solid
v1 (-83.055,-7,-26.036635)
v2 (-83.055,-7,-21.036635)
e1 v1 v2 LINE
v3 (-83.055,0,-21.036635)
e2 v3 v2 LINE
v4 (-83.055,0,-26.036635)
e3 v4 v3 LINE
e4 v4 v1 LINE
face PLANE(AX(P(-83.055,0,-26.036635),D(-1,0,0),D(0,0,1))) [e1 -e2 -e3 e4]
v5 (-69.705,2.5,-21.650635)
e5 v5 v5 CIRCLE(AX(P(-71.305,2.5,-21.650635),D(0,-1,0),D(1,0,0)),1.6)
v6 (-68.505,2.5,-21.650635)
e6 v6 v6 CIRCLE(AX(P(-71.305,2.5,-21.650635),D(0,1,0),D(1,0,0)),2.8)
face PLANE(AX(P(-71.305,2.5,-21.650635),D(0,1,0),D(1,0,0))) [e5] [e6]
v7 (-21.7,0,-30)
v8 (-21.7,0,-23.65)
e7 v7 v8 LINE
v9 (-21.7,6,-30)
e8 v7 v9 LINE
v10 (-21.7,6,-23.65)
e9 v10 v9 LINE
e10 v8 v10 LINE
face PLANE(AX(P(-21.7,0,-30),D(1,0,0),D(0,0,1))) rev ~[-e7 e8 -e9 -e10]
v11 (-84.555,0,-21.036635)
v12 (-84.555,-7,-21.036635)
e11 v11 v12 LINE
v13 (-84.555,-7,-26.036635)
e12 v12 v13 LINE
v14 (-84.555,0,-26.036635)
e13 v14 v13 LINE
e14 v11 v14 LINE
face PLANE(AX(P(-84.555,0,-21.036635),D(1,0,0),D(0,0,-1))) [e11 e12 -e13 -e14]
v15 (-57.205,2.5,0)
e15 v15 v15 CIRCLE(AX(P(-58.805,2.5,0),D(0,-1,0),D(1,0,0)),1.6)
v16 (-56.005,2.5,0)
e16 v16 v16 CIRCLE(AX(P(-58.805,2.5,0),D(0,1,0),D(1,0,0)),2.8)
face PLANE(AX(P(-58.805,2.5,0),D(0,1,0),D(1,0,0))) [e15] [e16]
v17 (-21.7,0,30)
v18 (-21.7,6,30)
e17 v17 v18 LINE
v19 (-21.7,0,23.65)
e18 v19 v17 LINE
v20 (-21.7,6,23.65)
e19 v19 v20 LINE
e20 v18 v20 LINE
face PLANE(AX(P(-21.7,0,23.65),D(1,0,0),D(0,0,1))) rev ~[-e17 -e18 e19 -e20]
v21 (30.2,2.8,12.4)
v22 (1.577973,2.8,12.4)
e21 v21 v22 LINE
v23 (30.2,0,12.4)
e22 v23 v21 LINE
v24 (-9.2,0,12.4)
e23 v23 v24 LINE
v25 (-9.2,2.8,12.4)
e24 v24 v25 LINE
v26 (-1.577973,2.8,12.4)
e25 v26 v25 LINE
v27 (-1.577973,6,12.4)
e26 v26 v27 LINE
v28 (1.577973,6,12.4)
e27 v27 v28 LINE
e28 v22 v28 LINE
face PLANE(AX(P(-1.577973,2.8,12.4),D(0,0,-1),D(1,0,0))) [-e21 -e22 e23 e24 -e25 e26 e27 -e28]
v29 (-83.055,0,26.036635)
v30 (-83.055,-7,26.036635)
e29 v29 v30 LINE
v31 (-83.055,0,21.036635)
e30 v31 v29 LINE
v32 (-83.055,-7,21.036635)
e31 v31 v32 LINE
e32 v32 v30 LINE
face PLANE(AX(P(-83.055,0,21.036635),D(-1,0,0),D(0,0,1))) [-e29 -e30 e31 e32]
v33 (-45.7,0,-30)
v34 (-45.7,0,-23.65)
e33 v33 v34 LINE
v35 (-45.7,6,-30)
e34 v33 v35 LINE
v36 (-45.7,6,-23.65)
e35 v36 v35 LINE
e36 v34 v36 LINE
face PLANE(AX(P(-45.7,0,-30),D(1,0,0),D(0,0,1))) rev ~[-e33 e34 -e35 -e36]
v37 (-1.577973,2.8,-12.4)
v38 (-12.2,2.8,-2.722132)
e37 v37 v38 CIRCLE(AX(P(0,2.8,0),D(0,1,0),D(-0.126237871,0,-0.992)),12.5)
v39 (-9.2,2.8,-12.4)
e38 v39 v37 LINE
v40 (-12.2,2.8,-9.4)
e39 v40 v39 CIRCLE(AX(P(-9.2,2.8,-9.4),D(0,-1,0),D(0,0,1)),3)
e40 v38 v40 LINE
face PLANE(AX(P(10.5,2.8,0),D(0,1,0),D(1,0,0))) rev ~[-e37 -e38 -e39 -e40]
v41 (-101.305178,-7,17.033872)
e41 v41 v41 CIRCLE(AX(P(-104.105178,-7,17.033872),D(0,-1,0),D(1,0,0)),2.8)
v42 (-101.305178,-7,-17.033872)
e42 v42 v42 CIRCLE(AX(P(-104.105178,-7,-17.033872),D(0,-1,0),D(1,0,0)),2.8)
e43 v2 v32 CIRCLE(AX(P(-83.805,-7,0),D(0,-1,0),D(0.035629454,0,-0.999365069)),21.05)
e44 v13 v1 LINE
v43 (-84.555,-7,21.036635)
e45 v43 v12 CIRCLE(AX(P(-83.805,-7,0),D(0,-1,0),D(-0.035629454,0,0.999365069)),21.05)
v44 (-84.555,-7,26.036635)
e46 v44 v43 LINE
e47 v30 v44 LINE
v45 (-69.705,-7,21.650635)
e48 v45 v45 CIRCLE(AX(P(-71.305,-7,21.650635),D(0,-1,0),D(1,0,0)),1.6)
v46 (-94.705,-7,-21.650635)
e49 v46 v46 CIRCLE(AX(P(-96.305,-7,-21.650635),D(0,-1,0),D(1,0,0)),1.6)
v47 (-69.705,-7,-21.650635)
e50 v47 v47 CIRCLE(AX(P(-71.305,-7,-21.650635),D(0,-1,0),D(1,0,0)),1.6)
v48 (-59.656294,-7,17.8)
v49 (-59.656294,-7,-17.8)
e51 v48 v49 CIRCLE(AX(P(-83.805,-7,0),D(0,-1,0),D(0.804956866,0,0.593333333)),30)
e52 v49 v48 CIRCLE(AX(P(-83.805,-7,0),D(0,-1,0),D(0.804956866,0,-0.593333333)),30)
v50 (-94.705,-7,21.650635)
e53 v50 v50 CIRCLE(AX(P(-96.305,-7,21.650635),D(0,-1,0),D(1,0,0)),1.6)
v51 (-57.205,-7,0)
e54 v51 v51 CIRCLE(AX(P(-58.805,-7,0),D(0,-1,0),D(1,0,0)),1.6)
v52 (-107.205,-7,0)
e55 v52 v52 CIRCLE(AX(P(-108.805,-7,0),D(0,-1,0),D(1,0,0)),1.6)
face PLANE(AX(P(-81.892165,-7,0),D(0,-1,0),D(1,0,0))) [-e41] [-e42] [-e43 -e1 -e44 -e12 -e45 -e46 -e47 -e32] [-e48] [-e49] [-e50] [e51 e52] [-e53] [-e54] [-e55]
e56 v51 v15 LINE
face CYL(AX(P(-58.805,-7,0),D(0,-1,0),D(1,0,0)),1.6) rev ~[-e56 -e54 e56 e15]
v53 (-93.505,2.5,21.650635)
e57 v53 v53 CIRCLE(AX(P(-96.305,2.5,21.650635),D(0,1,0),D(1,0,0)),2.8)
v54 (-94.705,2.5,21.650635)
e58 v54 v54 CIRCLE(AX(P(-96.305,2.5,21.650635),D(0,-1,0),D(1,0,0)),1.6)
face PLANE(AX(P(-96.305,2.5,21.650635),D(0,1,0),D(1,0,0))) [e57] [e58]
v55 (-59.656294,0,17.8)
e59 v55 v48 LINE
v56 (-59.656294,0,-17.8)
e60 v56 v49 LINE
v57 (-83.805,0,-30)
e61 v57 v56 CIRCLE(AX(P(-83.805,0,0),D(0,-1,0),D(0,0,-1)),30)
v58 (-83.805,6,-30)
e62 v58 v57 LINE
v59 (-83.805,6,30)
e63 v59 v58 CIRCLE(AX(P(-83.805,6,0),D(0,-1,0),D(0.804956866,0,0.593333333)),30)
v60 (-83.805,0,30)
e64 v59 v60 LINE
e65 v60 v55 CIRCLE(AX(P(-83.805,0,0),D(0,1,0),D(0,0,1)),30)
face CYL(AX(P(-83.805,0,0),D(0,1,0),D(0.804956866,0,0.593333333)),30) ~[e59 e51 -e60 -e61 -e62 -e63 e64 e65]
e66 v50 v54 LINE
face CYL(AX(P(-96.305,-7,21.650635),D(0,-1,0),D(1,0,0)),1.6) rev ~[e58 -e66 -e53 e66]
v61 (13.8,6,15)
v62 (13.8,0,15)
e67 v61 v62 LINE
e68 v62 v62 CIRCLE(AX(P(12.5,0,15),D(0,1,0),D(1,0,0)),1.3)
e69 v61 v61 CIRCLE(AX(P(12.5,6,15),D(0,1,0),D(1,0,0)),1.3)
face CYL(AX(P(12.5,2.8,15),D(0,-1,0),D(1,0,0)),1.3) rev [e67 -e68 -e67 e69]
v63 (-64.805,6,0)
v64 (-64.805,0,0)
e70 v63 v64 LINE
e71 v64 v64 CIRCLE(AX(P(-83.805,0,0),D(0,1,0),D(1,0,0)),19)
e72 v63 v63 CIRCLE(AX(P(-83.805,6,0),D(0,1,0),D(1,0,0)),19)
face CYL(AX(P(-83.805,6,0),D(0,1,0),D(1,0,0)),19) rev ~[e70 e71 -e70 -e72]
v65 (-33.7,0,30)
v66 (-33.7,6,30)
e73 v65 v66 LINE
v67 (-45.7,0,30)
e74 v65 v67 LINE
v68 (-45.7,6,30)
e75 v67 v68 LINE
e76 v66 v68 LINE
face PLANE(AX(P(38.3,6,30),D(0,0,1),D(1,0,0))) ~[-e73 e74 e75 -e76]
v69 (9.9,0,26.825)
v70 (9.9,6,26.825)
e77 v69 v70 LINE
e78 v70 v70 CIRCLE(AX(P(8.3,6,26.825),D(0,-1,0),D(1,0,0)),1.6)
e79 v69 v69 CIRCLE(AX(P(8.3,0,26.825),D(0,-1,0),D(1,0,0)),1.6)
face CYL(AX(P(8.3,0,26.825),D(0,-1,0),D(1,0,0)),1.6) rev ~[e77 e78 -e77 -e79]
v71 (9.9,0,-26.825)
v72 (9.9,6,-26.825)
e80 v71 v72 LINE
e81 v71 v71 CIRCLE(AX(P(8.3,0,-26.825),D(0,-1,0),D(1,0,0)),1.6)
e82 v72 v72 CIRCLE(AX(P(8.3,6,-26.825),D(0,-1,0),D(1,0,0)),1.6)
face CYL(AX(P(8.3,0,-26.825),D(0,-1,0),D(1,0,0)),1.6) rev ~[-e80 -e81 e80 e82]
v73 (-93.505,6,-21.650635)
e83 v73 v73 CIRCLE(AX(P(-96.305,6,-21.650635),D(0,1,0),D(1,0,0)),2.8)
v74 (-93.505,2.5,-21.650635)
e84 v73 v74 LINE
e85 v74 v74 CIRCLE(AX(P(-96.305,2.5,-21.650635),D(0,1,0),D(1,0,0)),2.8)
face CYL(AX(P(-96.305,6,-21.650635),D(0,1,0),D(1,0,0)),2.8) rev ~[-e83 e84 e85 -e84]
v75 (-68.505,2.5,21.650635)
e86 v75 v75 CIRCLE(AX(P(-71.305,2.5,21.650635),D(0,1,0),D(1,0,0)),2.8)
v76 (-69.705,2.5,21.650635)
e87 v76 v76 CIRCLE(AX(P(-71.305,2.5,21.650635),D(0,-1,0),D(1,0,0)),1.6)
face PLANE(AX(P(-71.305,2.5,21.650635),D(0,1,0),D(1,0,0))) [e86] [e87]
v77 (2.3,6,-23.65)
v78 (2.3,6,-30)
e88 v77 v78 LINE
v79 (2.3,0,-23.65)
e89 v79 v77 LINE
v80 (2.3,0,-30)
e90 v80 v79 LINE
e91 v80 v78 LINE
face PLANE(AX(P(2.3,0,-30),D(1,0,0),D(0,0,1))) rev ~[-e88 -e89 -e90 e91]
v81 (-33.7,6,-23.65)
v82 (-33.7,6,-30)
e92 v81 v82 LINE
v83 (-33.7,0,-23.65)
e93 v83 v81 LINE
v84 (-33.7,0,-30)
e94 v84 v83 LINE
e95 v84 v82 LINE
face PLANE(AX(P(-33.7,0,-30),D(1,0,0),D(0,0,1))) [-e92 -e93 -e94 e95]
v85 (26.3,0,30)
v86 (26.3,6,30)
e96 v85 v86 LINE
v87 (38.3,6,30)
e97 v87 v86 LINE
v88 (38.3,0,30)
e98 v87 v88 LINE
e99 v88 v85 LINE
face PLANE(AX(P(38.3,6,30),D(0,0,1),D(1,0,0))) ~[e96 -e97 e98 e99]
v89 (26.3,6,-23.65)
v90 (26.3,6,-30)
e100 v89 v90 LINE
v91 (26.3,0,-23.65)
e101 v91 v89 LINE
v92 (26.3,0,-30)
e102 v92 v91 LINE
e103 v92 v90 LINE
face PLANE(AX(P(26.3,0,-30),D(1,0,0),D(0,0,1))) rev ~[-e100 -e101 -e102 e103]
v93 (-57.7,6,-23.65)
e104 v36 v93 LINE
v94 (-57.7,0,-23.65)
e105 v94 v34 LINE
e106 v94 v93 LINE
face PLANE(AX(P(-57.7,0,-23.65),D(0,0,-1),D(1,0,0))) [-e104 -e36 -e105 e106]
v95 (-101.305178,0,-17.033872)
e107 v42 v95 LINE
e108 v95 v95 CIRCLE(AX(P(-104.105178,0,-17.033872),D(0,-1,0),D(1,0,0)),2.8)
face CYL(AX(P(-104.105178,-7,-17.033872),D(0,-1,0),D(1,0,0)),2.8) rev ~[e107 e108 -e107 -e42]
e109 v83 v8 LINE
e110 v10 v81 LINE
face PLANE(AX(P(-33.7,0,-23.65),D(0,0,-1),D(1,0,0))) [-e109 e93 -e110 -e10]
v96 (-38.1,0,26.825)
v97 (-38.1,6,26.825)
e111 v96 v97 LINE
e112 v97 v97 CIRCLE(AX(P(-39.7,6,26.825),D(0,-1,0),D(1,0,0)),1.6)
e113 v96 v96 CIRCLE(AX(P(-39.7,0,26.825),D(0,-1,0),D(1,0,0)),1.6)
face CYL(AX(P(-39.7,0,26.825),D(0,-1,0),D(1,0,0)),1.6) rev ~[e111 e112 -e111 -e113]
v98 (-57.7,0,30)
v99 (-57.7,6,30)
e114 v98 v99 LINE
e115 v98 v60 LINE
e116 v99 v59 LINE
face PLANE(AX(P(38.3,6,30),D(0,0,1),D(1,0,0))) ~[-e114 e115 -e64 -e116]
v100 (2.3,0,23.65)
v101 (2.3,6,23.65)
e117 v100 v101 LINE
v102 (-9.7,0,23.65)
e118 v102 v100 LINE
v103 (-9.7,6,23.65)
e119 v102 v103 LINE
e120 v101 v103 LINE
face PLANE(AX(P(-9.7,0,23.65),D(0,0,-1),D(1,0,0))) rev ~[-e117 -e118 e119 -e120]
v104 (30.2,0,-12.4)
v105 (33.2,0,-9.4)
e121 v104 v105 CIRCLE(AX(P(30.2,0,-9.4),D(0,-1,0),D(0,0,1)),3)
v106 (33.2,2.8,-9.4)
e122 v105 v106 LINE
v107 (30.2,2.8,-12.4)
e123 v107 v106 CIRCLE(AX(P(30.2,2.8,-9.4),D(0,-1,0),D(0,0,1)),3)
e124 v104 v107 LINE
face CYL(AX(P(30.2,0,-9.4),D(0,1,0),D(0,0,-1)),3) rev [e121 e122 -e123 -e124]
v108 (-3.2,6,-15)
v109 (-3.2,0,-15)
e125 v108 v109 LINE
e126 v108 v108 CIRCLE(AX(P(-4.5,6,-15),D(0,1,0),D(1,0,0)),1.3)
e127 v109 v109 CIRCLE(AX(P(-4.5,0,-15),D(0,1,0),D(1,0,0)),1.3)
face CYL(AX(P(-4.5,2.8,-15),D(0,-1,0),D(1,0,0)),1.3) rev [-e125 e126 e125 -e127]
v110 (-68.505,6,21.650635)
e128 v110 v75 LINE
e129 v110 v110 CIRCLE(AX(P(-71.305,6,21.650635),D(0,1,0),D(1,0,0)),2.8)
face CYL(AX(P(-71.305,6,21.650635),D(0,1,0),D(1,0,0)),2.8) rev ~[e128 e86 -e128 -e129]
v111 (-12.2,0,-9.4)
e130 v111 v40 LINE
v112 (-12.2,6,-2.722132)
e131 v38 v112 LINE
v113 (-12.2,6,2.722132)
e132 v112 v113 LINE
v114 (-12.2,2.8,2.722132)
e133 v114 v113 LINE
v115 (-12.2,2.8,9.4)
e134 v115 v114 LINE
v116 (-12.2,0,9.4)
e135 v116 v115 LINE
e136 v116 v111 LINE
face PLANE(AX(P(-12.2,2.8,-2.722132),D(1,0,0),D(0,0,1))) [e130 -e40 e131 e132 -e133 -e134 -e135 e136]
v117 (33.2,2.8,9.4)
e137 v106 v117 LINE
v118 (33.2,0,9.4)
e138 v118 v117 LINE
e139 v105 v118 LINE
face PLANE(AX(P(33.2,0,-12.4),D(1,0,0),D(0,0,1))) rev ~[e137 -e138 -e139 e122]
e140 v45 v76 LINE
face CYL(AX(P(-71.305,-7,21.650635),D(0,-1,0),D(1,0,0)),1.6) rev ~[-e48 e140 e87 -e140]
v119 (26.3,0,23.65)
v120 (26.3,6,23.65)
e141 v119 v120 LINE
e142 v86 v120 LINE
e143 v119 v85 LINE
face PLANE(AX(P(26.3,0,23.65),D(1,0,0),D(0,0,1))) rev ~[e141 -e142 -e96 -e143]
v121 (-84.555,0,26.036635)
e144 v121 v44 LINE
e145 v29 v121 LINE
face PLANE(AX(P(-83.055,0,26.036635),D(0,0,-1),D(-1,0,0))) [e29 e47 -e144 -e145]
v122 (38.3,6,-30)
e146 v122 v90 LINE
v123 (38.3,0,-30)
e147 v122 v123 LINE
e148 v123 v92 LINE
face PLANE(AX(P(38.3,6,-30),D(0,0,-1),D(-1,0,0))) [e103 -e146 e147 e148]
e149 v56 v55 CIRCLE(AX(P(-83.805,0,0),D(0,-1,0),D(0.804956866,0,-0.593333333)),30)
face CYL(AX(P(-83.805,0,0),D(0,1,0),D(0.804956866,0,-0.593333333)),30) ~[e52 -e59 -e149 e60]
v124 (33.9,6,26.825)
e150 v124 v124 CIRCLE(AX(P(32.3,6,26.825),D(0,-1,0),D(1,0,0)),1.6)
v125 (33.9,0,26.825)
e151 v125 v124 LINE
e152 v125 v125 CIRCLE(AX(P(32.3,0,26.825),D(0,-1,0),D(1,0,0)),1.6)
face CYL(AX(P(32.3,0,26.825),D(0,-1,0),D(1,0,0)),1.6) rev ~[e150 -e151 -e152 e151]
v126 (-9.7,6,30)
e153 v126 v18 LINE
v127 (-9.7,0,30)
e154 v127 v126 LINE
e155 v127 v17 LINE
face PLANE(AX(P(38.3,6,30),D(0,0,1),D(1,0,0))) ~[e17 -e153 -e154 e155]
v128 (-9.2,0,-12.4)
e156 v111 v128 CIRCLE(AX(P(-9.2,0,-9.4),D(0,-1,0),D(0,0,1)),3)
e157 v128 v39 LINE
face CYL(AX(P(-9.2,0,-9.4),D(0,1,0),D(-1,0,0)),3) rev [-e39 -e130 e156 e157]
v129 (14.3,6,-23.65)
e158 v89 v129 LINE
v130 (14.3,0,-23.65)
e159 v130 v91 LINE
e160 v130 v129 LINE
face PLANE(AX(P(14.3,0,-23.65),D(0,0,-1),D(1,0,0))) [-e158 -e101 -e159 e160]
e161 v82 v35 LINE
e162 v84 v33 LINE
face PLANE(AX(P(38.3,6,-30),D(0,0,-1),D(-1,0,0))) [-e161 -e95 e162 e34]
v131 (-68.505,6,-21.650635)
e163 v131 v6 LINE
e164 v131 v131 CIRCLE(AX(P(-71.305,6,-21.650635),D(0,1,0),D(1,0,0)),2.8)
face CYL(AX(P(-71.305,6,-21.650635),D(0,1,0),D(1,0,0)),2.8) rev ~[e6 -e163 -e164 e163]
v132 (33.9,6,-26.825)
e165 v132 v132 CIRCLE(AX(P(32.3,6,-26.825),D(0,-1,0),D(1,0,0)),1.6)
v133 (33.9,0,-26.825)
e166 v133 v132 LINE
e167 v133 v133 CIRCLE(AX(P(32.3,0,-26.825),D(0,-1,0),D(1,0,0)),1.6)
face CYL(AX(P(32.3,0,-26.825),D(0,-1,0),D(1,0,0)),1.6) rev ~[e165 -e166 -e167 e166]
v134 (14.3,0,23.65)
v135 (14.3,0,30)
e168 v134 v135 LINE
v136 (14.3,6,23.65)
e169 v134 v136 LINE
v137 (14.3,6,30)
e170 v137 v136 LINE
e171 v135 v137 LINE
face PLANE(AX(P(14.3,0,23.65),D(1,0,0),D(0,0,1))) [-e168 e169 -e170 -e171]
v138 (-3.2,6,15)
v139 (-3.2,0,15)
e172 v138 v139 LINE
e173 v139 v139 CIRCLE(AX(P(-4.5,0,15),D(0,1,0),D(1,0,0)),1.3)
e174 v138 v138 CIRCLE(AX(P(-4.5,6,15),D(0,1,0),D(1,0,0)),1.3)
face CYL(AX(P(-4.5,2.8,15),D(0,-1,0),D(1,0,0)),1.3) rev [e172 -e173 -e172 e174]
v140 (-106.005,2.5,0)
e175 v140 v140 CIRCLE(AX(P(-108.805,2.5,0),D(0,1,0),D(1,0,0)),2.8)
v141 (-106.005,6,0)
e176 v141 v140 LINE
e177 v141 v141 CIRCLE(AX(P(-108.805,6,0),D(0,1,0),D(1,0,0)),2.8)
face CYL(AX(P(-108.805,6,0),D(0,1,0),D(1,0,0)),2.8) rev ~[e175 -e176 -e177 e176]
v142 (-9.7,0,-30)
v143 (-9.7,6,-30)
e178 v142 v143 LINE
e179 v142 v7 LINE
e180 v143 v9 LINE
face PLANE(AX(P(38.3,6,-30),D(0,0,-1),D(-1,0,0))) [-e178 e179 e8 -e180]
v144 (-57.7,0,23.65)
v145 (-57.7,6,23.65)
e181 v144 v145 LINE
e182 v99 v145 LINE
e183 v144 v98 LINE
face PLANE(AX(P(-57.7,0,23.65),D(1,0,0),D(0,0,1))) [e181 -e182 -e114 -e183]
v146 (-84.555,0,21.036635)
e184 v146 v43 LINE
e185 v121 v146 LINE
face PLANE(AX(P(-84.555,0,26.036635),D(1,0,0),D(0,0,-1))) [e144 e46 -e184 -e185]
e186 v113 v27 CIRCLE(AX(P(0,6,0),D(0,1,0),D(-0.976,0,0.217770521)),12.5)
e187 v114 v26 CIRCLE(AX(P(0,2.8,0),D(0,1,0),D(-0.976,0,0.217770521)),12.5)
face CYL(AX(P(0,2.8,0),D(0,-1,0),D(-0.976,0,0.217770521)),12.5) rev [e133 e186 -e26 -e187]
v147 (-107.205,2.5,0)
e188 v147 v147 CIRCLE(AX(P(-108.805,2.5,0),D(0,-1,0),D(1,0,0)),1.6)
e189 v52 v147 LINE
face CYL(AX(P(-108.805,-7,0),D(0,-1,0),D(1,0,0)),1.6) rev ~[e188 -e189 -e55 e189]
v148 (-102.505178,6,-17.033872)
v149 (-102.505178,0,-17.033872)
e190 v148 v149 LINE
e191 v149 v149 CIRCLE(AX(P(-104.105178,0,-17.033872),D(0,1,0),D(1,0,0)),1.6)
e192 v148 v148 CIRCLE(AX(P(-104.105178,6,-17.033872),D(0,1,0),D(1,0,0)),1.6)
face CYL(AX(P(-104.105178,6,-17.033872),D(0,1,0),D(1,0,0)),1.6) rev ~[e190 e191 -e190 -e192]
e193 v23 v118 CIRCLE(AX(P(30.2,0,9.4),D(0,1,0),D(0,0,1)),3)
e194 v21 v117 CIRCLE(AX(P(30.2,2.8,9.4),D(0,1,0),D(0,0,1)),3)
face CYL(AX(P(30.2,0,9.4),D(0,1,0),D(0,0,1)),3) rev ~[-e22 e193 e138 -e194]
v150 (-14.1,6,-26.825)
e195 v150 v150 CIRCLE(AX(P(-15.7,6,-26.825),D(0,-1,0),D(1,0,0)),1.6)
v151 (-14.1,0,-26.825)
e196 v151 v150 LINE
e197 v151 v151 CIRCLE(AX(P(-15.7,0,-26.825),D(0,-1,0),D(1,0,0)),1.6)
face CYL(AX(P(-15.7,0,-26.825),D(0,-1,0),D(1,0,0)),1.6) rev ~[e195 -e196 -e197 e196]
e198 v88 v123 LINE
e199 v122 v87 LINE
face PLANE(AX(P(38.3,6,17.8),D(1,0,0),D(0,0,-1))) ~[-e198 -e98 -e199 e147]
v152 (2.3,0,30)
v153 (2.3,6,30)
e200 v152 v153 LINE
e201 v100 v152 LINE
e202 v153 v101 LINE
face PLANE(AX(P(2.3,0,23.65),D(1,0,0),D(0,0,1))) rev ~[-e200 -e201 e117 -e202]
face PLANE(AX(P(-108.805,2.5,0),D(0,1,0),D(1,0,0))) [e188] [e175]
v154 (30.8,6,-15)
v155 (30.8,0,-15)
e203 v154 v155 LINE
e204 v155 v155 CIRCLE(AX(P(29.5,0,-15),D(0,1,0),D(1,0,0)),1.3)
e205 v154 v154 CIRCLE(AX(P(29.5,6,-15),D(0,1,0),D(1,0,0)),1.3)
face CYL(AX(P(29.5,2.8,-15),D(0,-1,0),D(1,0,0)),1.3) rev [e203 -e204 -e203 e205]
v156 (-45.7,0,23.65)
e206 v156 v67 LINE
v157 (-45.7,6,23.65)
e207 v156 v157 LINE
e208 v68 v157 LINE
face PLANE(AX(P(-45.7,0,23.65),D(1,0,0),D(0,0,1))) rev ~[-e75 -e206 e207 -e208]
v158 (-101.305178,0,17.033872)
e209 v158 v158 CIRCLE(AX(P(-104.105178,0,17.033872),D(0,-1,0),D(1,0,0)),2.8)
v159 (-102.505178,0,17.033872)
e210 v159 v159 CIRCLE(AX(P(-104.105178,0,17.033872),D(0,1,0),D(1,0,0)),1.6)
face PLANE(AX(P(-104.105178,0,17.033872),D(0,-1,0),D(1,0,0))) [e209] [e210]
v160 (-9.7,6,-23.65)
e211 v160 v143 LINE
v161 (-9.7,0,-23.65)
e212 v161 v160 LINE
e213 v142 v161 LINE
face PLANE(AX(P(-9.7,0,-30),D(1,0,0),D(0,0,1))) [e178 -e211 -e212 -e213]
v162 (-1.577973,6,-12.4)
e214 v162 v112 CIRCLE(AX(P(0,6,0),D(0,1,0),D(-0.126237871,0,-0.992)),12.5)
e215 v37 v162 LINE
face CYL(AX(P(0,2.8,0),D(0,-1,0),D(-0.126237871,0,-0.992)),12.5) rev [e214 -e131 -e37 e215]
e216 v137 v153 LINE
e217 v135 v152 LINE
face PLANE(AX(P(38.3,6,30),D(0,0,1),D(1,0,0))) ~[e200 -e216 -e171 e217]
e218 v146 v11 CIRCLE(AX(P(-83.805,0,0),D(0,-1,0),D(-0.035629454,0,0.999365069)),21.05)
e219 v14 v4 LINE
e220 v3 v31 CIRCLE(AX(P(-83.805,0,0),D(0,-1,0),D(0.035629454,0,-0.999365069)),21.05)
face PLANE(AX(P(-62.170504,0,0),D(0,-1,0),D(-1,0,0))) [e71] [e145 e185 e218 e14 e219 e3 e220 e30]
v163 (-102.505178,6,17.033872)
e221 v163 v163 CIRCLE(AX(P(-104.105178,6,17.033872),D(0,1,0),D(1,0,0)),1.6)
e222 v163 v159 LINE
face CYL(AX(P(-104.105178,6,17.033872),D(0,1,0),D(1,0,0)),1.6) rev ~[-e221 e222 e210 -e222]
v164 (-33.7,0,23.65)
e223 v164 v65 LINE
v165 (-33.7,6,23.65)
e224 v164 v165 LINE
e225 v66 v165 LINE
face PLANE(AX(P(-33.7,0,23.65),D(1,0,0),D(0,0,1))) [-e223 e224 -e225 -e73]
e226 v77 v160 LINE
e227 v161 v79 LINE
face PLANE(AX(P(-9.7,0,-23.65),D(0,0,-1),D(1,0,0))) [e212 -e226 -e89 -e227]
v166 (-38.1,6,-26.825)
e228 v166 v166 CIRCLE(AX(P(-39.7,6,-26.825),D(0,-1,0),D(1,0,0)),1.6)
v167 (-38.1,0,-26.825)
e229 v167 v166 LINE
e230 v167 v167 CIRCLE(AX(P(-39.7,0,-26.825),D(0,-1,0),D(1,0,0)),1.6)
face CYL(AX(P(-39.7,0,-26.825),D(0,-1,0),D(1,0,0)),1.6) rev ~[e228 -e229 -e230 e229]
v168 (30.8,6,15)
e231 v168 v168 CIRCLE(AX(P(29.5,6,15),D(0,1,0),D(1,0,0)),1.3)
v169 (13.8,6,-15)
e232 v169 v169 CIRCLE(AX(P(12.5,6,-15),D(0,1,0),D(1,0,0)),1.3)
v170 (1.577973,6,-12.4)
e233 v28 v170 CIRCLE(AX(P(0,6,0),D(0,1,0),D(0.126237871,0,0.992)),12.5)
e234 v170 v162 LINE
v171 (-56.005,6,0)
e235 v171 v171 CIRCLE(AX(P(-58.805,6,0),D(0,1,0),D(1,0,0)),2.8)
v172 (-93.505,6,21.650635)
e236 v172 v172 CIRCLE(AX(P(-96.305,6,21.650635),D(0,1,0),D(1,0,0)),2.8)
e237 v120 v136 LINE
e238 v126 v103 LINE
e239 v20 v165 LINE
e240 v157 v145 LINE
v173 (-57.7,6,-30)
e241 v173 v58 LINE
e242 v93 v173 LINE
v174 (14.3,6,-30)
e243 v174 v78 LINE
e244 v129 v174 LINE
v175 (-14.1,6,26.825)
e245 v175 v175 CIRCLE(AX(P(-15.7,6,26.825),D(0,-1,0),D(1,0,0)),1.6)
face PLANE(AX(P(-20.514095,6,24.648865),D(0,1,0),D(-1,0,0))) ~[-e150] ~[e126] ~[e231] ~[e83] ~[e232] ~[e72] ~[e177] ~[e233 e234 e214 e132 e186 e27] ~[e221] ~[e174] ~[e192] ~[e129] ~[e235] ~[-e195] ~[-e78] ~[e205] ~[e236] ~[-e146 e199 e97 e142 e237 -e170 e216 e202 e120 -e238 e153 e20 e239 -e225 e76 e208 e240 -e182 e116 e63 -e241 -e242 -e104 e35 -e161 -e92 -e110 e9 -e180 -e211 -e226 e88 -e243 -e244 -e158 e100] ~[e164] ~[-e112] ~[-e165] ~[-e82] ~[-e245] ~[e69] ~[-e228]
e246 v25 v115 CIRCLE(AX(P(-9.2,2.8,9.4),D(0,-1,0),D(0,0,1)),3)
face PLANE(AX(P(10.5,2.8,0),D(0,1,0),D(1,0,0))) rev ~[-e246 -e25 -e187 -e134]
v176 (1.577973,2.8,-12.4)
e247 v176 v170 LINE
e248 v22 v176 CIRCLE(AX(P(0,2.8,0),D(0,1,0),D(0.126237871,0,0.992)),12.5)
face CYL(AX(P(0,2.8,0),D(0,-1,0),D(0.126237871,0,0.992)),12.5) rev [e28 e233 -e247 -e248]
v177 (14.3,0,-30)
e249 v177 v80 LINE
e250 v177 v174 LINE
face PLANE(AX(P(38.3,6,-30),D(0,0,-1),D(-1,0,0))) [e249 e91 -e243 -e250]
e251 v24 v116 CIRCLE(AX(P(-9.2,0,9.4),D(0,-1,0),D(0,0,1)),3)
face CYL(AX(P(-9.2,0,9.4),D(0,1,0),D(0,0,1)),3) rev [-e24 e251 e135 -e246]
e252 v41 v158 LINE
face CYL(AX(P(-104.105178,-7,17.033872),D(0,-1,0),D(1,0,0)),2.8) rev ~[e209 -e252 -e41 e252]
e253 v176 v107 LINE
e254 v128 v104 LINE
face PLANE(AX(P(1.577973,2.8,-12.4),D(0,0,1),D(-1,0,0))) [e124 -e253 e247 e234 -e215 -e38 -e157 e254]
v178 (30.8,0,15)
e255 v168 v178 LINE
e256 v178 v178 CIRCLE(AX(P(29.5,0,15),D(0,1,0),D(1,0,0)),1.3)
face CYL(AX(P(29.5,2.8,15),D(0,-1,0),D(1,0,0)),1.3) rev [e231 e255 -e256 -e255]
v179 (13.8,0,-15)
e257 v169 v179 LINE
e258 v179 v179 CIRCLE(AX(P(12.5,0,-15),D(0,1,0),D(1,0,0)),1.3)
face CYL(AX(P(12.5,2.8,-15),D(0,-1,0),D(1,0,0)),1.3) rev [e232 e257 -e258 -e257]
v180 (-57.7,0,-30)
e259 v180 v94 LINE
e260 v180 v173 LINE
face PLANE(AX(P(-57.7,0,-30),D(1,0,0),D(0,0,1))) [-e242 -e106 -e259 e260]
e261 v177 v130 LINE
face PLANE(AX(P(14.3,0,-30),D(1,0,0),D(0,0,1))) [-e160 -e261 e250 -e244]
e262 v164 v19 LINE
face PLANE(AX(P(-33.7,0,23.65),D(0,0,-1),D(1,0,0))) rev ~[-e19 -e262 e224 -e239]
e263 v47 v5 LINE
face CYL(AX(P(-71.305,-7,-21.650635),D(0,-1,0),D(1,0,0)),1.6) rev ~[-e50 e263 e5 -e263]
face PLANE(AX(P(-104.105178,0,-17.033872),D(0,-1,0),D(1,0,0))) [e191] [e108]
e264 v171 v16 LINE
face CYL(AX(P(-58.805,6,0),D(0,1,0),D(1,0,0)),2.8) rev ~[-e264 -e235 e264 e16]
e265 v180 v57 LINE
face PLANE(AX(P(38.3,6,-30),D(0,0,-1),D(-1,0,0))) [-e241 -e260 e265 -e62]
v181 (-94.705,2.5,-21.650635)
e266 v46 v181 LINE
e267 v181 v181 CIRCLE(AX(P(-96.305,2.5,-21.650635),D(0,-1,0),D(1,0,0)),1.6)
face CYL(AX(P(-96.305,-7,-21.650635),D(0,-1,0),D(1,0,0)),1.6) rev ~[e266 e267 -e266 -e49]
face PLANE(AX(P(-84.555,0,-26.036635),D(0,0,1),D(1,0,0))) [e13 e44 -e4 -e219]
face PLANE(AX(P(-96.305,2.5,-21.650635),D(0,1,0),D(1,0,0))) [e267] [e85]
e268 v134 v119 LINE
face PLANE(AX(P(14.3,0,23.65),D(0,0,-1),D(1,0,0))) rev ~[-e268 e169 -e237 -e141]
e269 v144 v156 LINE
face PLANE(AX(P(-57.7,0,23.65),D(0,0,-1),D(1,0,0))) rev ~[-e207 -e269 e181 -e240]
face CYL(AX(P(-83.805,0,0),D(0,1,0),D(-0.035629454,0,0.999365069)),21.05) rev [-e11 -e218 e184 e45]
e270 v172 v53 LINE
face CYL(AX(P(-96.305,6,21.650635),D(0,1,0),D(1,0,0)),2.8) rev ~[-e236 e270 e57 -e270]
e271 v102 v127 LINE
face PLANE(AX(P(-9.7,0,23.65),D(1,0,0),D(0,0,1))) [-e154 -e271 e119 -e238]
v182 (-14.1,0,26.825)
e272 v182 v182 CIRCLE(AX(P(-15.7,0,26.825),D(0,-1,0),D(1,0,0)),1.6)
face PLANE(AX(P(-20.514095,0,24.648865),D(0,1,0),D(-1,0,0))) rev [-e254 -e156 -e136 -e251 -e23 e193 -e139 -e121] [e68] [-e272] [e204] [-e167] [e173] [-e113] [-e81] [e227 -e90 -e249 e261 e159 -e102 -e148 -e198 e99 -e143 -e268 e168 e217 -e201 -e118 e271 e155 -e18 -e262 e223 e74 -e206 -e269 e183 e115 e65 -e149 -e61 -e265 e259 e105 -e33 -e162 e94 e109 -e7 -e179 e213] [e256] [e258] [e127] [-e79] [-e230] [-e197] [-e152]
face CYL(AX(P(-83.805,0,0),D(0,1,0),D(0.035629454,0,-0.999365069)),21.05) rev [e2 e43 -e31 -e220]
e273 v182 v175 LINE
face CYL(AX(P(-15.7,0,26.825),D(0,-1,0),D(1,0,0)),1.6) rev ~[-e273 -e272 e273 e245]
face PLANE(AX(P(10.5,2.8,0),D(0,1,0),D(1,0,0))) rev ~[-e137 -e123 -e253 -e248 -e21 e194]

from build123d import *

# Parameters (mm, degrees)
SKETCH1_R           = 1.3
BOSS_EXTRUDE1_DEPTH = 2.8
SKETCH2_W           = 55.6
SKETCH2_H           = 35.6
SKETCH2_R           = 1.3
BOSS_EXTRUDE2_DEPTH = 3.2
FILLET1_R           = 3
SKETCH4_R           = 19
BOSS_EXTRUDE3_DEPTH = 6
BOSS_EXTRUDE4_DEPTH = 7
SKETCH6_R           = 1.6
CUT_EXTRUDE2_DEPTH  = 14
SKETCH8_R           = 2.8
CUT_EXTRUDE3_DEPTH  = 3.5
BOSS_EXTRUDE5_DEPTH = 6
CUT_EXTRUDE4_REACH  = 8
SKETCH10_W          = 12
SKETCH10_H          = 6.35
SKETCH11_R          = 1.6
CUT_EXTRUDE5_DEPTH  = 10
SKETCH13_R          = 1.6
CUT_EXTRUDE6_DEPTH  = 14
SKETCH14_R          = 2.8
CUT_EXTRUDE7_DEPTH  = 7


with BuildPart() as part:
    # Sketch1 → Boss-Extrude1 (new body)
    with BuildSketch(Plane(origin=(0, 0, 0), x_dir=(1, 0, 0), z_dir=(0, 1, 0))):
        Polygon((-4.5, 17.8), (38.3, 17.8), (38.3, -17.8), (-4.5, -17.8), (-12.2, -17.8), (-17.3, -17.8), (-17.3, 17.8), (-12.2, 17.8), align=None)
        with Locations((-4.5, 15)):
            Circle(SKETCH1_R, mode=Mode.SUBTRACT)
        with Locations((12.5, 15)):
            Circle(SKETCH1_R, mode=Mode.SUBTRACT)
        with Locations((29.5, 15)):
            Circle(SKETCH1_R, mode=Mode.SUBTRACT)
        with Locations((29.5, -15)):
            Circle(SKETCH1_R, mode=Mode.SUBTRACT)
        with Locations((12.5, -15)):
            Circle(SKETCH1_R, mode=Mode.SUBTRACT)
        with Locations((-4.5, -15)):
            Circle(SKETCH1_R, mode=Mode.SUBTRACT)
        Polygon((-4.5, 12.4), (33.2, 12.4), (33.2, -12.4), (-4.5, -12.4), (-12.2, -12.4), (-12.2, 12.4), align=None, mode=Mode.SUBTRACT)
    extrude(amount=BOSS_EXTRUDE1_DEPTH)

    # Sketch2 → Boss-Extrude2 (add)
    with BuildSketch(Plane(origin=(0, 2.8, 0), x_dir=(1, 0, 0), z_dir=(0, 1, 0))):
        with Locations((10.5, 0)):
            Rectangle(SKETCH2_W, SKETCH2_H)
        with Locations((-4.5, -15)):
            Circle(SKETCH2_R, mode=Mode.SUBTRACT)
        with Locations((12.5, -15)):
            Circle(SKETCH2_R, mode=Mode.SUBTRACT)
        with Locations((29.5, -15)):
            Circle(SKETCH2_R, mode=Mode.SUBTRACT)
        with Locations((29.5, 15)):
            Circle(SKETCH2_R, mode=Mode.SUBTRACT)
        with Locations((12.5, 15)):
            Circle(SKETCH2_R, mode=Mode.SUBTRACT)
        with Locations((-4.5, 15)):
            Circle(SKETCH2_R, mode=Mode.SUBTRACT)
        with BuildLine():
            Line((-12.2, 2.722131518), (-12.2, -2.722131518))
            ThreePointArc((-12.2, -2.722131518), (-8.418635414, -9.239944684), (-1.577973384, -12.4))
            Line((-1.577973384, -12.4), (1.577973384, -12.4))
            ThreePointArc((1.577973384, -12.4), (12.5, 0), (1.577973384, 12.4))
            Line((1.577973384, 12.4), (-1.577973384, 12.4))
            ThreePointArc((-1.577973384, 12.4), (-8.418635414, 9.239944684), (-12.2, 2.722131518))
        make_face(mode=Mode.SUBTRACT)
    extrude(amount=BOSS_EXTRUDE2_DEPTH)

    # Fillet1
    fillet1_edges = [part.edges().sort_by_distance(p)[0] for p in [
        (-12.2, 1.4, -12.4),
        (-12.2, 1.4, 12.4),
        (33.2, 1.4, 12.4),
        (33.2, 1.4, -12.4),
    ]]
    fillet(fillet1_edges, radius=FILLET1_R)

    # Sketch4 → Boss-Extrude3 (add)
    with BuildSketch(Plane(origin=(0, 6, 0), x_dir=(1, 0, 0), z_dir=(0, 1, 0))):
        with BuildLine():
            ThreePointArc((-59.656294031, -17.8), (-113.805, 0), (-59.656294031, 17.8))
            Line((-59.656294031, 17.8), (-17.3, 17.8))
            Line((-17.3, 17.8), (-17.3, -17.8))
            Line((-17.3, -17.8), (-59.656294031, -17.8))
        make_face()
        with Locations((-83.805, 0)):
            Circle(SKETCH4_R, mode=Mode.SUBTRACT)
    extrude(amount=-BOSS_EXTRUDE3_DEPTH)

    # Sketch5 → Boss-Extrude4 (add)
    with BuildSketch(Plane.XZ):
        with BuildLine():
            ThreePointArc((-59.656294031, -17.8), (-53.805, 0), (-59.656294031, 17.8))
            ThreePointArc((-59.656294031, 17.8), (-113.805, 0), (-59.656294031, -17.8))
        make_face()
        with BuildLine():
            ThreePointArc((-84.555, 21.036634712), (-104.855, 0), (-84.555, -21.036634712))
            Line((-84.555, -21.036634712), (-84.555, -26.036634712))
            Line((-84.555, -26.036634712), (-83.055, -26.036634712))
            Line((-83.055, -26.036634712), (-83.055, -21.036634712))
            ThreePointArc((-83.055, -21.036634712), (-62.755, 0), (-83.055, 21.036634712))
            Line((-83.055, 21.036634712), (-83.055, 26.036634712))
            Line((-83.055, 26.036634712), (-84.555, 26.036634712))
            Line((-84.555, 26.036634712), (-84.555, 21.036634712))
        make_face(mode=Mode.SUBTRACT)
    extrude(amount=BOSS_EXTRUDE4_DEPTH)

    # Sketch6 → Cut-Extrude2 (cut, through all)
    with BuildSketch(Plane.XZ.offset(7)):
        with Locations((-58.805, 0)):
            Circle(SKETCH6_R)
        with Locations((-71.305, -21.650635095)):
            Circle(SKETCH6_R)
        with Locations((-96.305, -21.650635095)):
            Circle(SKETCH6_R)
        with Locations((-108.805, 0)):
            Circle(SKETCH6_R)
        with Locations((-96.305, 21.650635095)):
            Circle(SKETCH6_R)
        with Locations((-71.305, 21.650635095)):
            Circle(SKETCH6_R)
    extrude(amount=-CUT_EXTRUDE2_DEPTH, mode=Mode.SUBTRACT)

    # Sketch8 → Cut-Extrude3 (cut)
    with BuildSketch(Plane(origin=(0, 6, 0), x_dir=(1, 0, 0), z_dir=(0, 1, 0))):
        with Locations((-96.305, 21.650635095)):
            Circle(SKETCH8_R)
        with Locations((-71.305, 21.650635095)):
            Circle(SKETCH8_R)
        with Locations((-58.805, 0)):
            Circle(SKETCH8_R)
        with Locations((-71.305, -21.650635095)):
            Circle(SKETCH8_R)
        with Locations((-96.305, -21.650635095)):
            Circle(SKETCH8_R)
        with Locations((-108.805, 0)):
            Circle(SKETCH8_R)
    extrude(amount=-CUT_EXTRUDE3_DEPTH, mode=Mode.SUBTRACT)

    # Sketch9 → Boss-Extrude5 (add)
    with BuildSketch(Plane(origin=(0, 6, 0), x_dir=(1, 0, 0), z_dir=(0, 1, 0))):
        with BuildLine():
            Line((-59.656294031, 17.8), (38.3, 17.8))
            Line((38.3, 17.8), (38.3, 30))
            Line((38.3, 30), (-83.805, 30))
            ThreePointArc((-83.805, 30), (-70.277250742, 26.776855678), (-59.656294031, 17.8))
        make_face()
    boss_extrude5 = extrude(amount=-BOSS_EXTRUDE5_DEPTH)

    # Mirror1: Boss-Extrude5 across plane
    add(boss_extrude5.mirror(Plane.XY))

    # Sketch10 → Cut-Extrude4 (cut, up to next)
    with BuildSketch(Plane.XZ, mode=Mode.PRIVATE) as cut_extrude4_sk1:
        with Locations((20.3, -26.825)):
            Rectangle(SKETCH10_W, SKETCH10_H)
    cut_extrude4_tool1 = extrude(cut_extrude4_sk1.sketch, amount=-CUT_EXTRUDE4_REACH, mode=Mode.PRIVATE) & part.part
    add(cut_extrude4_tool1.solids().sort_by_distance((20.3, 0, -26.825))[0], mode=Mode.SUBTRACT)
    # Sketch10 → Cut-Extrude4 (cut, up to next)
    with BuildSketch(Plane.XZ, mode=Mode.PRIVATE) as cut_extrude4_sk2:
        with Locations((-3.7, -26.825)):
            Rectangle(SKETCH10_W, SKETCH10_H)
    cut_extrude4_tool2 = extrude(cut_extrude4_sk2.sketch, amount=-CUT_EXTRUDE4_REACH, mode=Mode.PRIVATE) & part.part
    add(cut_extrude4_tool2.solids().sort_by_distance((-3.7, 0, -26.825))[0], mode=Mode.SUBTRACT)
    # Sketch10 → Cut-Extrude4 (cut, up to next)
    with BuildSketch(Plane.XZ, mode=Mode.PRIVATE) as cut_extrude4_sk3:
        with Locations((-27.7, -26.825)):
            Rectangle(SKETCH10_W, SKETCH10_H)
    cut_extrude4_tool3 = extrude(cut_extrude4_sk3.sketch, amount=-CUT_EXTRUDE4_REACH, mode=Mode.PRIVATE) & part.part
    add(cut_extrude4_tool3.solids().sort_by_distance((-27.7, 0, -26.825))[0], mode=Mode.SUBTRACT)
    # Sketch10 → Cut-Extrude4 (cut, up to next)
    with BuildSketch(Plane.XZ, mode=Mode.PRIVATE) as cut_extrude4_sk4:
        with Locations((-51.7, -26.825)):
            Rectangle(SKETCH10_W, SKETCH10_H)
    cut_extrude4_tool4 = extrude(cut_extrude4_sk4.sketch, amount=-CUT_EXTRUDE4_REACH, mode=Mode.PRIVATE) & part.part
    add(cut_extrude4_tool4.solids().sort_by_distance((-51.7, 0, -26.825))[0], mode=Mode.SUBTRACT)
    # Sketch10 → Cut-Extrude4 (cut, up to next)
    with BuildSketch(Plane.XZ, mode=Mode.PRIVATE) as cut_extrude4_sk5:
        with Locations((20.3, 26.825)):
            Rectangle(SKETCH10_W, SKETCH10_H)
    cut_extrude4_tool5 = extrude(cut_extrude4_sk5.sketch, amount=-CUT_EXTRUDE4_REACH, mode=Mode.PRIVATE) & part.part
    add(cut_extrude4_tool5.solids().sort_by_distance((20.3, 0, 26.825))[0], mode=Mode.SUBTRACT)
    # Sketch10 → Cut-Extrude4 (cut, up to next)
    with BuildSketch(Plane.XZ, mode=Mode.PRIVATE) as cut_extrude4_sk6:
        with Locations((-3.7, 26.825)):
            Rectangle(SKETCH10_W, SKETCH10_H)
    cut_extrude4_tool6 = extrude(cut_extrude4_sk6.sketch, amount=-CUT_EXTRUDE4_REACH, mode=Mode.PRIVATE) & part.part
    add(cut_extrude4_tool6.solids().sort_by_distance((-3.7, 0, 26.825))[0], mode=Mode.SUBTRACT)
    # Sketch10 → Cut-Extrude4 (cut, up to next)
    with BuildSketch(Plane.XZ, mode=Mode.PRIVATE) as cut_extrude4_sk7:
        with Locations((-27.7, 26.825)):
            Rectangle(SKETCH10_W, SKETCH10_H)
    cut_extrude4_tool7 = extrude(cut_extrude4_sk7.sketch, amount=-CUT_EXTRUDE4_REACH, mode=Mode.PRIVATE) & part.part
    add(cut_extrude4_tool7.solids().sort_by_distance((-27.7, 0, 26.825))[0], mode=Mode.SUBTRACT)
    # Sketch10 → Cut-Extrude4 (cut, up to next)
    with BuildSketch(Plane.XZ, mode=Mode.PRIVATE) as cut_extrude4_sk8:
        with Locations((-51.7, 26.825)):
            Rectangle(SKETCH10_W, SKETCH10_H)
    cut_extrude4_tool8 = extrude(cut_extrude4_sk8.sketch, amount=-CUT_EXTRUDE4_REACH, mode=Mode.PRIVATE) & part.part
    add(cut_extrude4_tool8.solids().sort_by_distance((-51.7, 0, 26.825))[0], mode=Mode.SUBTRACT)

    # Sketch11 → Cut-Extrude5 (cut)
    with BuildSketch(Plane.XZ):
        with Locations((-39.7, -26.825)):
            Circle(SKETCH11_R)
        with Locations((-15.7, -26.825)):
            Circle(SKETCH11_R)
        with Locations((8.3, -26.825)):
            Circle(SKETCH11_R)
        with Locations((32.3, -26.825)):
            Circle(SKETCH11_R)
        with Locations((32.3, 26.825)):
            Circle(SKETCH11_R)
        with Locations((8.3, 26.825)):
            Circle(SKETCH11_R)
        with Locations((-15.7, 26.825)):
            Circle(SKETCH11_R)
        with Locations((-39.7, 26.825)):
            Circle(SKETCH11_R)
    extrude(amount=-CUT_EXTRUDE5_DEPTH, mode=Mode.SUBTRACT)

    # Sketch13 → Cut-Extrude6 (cut, through all)
    with BuildSketch(Plane(origin=(0, 6, 0), x_dir=(1, 0, 0), z_dir=(0, 1, 0))):
        with Locations((-104.105177743, -17.033871657)):
            Circle(SKETCH13_R)
        with Locations((-104.105177743, 17.033871657)):
            Circle(SKETCH13_R)
    extrude(amount=-CUT_EXTRUDE6_DEPTH, mode=Mode.SUBTRACT)

    # Sketch14 → Cut-Extrude7 (cut)
    with BuildSketch(Plane.XZ.offset(7)):
        with Locations((-104.105177743, 17.033871657)):
            Circle(SKETCH14_R)
        with Locations((-104.105177743, -17.033871657)):
            Circle(SKETCH14_R)
    extrude(amount=-CUT_EXTRUDE7_DEPTH, mode=Mode.SUBTRACT)


solid = part.part
